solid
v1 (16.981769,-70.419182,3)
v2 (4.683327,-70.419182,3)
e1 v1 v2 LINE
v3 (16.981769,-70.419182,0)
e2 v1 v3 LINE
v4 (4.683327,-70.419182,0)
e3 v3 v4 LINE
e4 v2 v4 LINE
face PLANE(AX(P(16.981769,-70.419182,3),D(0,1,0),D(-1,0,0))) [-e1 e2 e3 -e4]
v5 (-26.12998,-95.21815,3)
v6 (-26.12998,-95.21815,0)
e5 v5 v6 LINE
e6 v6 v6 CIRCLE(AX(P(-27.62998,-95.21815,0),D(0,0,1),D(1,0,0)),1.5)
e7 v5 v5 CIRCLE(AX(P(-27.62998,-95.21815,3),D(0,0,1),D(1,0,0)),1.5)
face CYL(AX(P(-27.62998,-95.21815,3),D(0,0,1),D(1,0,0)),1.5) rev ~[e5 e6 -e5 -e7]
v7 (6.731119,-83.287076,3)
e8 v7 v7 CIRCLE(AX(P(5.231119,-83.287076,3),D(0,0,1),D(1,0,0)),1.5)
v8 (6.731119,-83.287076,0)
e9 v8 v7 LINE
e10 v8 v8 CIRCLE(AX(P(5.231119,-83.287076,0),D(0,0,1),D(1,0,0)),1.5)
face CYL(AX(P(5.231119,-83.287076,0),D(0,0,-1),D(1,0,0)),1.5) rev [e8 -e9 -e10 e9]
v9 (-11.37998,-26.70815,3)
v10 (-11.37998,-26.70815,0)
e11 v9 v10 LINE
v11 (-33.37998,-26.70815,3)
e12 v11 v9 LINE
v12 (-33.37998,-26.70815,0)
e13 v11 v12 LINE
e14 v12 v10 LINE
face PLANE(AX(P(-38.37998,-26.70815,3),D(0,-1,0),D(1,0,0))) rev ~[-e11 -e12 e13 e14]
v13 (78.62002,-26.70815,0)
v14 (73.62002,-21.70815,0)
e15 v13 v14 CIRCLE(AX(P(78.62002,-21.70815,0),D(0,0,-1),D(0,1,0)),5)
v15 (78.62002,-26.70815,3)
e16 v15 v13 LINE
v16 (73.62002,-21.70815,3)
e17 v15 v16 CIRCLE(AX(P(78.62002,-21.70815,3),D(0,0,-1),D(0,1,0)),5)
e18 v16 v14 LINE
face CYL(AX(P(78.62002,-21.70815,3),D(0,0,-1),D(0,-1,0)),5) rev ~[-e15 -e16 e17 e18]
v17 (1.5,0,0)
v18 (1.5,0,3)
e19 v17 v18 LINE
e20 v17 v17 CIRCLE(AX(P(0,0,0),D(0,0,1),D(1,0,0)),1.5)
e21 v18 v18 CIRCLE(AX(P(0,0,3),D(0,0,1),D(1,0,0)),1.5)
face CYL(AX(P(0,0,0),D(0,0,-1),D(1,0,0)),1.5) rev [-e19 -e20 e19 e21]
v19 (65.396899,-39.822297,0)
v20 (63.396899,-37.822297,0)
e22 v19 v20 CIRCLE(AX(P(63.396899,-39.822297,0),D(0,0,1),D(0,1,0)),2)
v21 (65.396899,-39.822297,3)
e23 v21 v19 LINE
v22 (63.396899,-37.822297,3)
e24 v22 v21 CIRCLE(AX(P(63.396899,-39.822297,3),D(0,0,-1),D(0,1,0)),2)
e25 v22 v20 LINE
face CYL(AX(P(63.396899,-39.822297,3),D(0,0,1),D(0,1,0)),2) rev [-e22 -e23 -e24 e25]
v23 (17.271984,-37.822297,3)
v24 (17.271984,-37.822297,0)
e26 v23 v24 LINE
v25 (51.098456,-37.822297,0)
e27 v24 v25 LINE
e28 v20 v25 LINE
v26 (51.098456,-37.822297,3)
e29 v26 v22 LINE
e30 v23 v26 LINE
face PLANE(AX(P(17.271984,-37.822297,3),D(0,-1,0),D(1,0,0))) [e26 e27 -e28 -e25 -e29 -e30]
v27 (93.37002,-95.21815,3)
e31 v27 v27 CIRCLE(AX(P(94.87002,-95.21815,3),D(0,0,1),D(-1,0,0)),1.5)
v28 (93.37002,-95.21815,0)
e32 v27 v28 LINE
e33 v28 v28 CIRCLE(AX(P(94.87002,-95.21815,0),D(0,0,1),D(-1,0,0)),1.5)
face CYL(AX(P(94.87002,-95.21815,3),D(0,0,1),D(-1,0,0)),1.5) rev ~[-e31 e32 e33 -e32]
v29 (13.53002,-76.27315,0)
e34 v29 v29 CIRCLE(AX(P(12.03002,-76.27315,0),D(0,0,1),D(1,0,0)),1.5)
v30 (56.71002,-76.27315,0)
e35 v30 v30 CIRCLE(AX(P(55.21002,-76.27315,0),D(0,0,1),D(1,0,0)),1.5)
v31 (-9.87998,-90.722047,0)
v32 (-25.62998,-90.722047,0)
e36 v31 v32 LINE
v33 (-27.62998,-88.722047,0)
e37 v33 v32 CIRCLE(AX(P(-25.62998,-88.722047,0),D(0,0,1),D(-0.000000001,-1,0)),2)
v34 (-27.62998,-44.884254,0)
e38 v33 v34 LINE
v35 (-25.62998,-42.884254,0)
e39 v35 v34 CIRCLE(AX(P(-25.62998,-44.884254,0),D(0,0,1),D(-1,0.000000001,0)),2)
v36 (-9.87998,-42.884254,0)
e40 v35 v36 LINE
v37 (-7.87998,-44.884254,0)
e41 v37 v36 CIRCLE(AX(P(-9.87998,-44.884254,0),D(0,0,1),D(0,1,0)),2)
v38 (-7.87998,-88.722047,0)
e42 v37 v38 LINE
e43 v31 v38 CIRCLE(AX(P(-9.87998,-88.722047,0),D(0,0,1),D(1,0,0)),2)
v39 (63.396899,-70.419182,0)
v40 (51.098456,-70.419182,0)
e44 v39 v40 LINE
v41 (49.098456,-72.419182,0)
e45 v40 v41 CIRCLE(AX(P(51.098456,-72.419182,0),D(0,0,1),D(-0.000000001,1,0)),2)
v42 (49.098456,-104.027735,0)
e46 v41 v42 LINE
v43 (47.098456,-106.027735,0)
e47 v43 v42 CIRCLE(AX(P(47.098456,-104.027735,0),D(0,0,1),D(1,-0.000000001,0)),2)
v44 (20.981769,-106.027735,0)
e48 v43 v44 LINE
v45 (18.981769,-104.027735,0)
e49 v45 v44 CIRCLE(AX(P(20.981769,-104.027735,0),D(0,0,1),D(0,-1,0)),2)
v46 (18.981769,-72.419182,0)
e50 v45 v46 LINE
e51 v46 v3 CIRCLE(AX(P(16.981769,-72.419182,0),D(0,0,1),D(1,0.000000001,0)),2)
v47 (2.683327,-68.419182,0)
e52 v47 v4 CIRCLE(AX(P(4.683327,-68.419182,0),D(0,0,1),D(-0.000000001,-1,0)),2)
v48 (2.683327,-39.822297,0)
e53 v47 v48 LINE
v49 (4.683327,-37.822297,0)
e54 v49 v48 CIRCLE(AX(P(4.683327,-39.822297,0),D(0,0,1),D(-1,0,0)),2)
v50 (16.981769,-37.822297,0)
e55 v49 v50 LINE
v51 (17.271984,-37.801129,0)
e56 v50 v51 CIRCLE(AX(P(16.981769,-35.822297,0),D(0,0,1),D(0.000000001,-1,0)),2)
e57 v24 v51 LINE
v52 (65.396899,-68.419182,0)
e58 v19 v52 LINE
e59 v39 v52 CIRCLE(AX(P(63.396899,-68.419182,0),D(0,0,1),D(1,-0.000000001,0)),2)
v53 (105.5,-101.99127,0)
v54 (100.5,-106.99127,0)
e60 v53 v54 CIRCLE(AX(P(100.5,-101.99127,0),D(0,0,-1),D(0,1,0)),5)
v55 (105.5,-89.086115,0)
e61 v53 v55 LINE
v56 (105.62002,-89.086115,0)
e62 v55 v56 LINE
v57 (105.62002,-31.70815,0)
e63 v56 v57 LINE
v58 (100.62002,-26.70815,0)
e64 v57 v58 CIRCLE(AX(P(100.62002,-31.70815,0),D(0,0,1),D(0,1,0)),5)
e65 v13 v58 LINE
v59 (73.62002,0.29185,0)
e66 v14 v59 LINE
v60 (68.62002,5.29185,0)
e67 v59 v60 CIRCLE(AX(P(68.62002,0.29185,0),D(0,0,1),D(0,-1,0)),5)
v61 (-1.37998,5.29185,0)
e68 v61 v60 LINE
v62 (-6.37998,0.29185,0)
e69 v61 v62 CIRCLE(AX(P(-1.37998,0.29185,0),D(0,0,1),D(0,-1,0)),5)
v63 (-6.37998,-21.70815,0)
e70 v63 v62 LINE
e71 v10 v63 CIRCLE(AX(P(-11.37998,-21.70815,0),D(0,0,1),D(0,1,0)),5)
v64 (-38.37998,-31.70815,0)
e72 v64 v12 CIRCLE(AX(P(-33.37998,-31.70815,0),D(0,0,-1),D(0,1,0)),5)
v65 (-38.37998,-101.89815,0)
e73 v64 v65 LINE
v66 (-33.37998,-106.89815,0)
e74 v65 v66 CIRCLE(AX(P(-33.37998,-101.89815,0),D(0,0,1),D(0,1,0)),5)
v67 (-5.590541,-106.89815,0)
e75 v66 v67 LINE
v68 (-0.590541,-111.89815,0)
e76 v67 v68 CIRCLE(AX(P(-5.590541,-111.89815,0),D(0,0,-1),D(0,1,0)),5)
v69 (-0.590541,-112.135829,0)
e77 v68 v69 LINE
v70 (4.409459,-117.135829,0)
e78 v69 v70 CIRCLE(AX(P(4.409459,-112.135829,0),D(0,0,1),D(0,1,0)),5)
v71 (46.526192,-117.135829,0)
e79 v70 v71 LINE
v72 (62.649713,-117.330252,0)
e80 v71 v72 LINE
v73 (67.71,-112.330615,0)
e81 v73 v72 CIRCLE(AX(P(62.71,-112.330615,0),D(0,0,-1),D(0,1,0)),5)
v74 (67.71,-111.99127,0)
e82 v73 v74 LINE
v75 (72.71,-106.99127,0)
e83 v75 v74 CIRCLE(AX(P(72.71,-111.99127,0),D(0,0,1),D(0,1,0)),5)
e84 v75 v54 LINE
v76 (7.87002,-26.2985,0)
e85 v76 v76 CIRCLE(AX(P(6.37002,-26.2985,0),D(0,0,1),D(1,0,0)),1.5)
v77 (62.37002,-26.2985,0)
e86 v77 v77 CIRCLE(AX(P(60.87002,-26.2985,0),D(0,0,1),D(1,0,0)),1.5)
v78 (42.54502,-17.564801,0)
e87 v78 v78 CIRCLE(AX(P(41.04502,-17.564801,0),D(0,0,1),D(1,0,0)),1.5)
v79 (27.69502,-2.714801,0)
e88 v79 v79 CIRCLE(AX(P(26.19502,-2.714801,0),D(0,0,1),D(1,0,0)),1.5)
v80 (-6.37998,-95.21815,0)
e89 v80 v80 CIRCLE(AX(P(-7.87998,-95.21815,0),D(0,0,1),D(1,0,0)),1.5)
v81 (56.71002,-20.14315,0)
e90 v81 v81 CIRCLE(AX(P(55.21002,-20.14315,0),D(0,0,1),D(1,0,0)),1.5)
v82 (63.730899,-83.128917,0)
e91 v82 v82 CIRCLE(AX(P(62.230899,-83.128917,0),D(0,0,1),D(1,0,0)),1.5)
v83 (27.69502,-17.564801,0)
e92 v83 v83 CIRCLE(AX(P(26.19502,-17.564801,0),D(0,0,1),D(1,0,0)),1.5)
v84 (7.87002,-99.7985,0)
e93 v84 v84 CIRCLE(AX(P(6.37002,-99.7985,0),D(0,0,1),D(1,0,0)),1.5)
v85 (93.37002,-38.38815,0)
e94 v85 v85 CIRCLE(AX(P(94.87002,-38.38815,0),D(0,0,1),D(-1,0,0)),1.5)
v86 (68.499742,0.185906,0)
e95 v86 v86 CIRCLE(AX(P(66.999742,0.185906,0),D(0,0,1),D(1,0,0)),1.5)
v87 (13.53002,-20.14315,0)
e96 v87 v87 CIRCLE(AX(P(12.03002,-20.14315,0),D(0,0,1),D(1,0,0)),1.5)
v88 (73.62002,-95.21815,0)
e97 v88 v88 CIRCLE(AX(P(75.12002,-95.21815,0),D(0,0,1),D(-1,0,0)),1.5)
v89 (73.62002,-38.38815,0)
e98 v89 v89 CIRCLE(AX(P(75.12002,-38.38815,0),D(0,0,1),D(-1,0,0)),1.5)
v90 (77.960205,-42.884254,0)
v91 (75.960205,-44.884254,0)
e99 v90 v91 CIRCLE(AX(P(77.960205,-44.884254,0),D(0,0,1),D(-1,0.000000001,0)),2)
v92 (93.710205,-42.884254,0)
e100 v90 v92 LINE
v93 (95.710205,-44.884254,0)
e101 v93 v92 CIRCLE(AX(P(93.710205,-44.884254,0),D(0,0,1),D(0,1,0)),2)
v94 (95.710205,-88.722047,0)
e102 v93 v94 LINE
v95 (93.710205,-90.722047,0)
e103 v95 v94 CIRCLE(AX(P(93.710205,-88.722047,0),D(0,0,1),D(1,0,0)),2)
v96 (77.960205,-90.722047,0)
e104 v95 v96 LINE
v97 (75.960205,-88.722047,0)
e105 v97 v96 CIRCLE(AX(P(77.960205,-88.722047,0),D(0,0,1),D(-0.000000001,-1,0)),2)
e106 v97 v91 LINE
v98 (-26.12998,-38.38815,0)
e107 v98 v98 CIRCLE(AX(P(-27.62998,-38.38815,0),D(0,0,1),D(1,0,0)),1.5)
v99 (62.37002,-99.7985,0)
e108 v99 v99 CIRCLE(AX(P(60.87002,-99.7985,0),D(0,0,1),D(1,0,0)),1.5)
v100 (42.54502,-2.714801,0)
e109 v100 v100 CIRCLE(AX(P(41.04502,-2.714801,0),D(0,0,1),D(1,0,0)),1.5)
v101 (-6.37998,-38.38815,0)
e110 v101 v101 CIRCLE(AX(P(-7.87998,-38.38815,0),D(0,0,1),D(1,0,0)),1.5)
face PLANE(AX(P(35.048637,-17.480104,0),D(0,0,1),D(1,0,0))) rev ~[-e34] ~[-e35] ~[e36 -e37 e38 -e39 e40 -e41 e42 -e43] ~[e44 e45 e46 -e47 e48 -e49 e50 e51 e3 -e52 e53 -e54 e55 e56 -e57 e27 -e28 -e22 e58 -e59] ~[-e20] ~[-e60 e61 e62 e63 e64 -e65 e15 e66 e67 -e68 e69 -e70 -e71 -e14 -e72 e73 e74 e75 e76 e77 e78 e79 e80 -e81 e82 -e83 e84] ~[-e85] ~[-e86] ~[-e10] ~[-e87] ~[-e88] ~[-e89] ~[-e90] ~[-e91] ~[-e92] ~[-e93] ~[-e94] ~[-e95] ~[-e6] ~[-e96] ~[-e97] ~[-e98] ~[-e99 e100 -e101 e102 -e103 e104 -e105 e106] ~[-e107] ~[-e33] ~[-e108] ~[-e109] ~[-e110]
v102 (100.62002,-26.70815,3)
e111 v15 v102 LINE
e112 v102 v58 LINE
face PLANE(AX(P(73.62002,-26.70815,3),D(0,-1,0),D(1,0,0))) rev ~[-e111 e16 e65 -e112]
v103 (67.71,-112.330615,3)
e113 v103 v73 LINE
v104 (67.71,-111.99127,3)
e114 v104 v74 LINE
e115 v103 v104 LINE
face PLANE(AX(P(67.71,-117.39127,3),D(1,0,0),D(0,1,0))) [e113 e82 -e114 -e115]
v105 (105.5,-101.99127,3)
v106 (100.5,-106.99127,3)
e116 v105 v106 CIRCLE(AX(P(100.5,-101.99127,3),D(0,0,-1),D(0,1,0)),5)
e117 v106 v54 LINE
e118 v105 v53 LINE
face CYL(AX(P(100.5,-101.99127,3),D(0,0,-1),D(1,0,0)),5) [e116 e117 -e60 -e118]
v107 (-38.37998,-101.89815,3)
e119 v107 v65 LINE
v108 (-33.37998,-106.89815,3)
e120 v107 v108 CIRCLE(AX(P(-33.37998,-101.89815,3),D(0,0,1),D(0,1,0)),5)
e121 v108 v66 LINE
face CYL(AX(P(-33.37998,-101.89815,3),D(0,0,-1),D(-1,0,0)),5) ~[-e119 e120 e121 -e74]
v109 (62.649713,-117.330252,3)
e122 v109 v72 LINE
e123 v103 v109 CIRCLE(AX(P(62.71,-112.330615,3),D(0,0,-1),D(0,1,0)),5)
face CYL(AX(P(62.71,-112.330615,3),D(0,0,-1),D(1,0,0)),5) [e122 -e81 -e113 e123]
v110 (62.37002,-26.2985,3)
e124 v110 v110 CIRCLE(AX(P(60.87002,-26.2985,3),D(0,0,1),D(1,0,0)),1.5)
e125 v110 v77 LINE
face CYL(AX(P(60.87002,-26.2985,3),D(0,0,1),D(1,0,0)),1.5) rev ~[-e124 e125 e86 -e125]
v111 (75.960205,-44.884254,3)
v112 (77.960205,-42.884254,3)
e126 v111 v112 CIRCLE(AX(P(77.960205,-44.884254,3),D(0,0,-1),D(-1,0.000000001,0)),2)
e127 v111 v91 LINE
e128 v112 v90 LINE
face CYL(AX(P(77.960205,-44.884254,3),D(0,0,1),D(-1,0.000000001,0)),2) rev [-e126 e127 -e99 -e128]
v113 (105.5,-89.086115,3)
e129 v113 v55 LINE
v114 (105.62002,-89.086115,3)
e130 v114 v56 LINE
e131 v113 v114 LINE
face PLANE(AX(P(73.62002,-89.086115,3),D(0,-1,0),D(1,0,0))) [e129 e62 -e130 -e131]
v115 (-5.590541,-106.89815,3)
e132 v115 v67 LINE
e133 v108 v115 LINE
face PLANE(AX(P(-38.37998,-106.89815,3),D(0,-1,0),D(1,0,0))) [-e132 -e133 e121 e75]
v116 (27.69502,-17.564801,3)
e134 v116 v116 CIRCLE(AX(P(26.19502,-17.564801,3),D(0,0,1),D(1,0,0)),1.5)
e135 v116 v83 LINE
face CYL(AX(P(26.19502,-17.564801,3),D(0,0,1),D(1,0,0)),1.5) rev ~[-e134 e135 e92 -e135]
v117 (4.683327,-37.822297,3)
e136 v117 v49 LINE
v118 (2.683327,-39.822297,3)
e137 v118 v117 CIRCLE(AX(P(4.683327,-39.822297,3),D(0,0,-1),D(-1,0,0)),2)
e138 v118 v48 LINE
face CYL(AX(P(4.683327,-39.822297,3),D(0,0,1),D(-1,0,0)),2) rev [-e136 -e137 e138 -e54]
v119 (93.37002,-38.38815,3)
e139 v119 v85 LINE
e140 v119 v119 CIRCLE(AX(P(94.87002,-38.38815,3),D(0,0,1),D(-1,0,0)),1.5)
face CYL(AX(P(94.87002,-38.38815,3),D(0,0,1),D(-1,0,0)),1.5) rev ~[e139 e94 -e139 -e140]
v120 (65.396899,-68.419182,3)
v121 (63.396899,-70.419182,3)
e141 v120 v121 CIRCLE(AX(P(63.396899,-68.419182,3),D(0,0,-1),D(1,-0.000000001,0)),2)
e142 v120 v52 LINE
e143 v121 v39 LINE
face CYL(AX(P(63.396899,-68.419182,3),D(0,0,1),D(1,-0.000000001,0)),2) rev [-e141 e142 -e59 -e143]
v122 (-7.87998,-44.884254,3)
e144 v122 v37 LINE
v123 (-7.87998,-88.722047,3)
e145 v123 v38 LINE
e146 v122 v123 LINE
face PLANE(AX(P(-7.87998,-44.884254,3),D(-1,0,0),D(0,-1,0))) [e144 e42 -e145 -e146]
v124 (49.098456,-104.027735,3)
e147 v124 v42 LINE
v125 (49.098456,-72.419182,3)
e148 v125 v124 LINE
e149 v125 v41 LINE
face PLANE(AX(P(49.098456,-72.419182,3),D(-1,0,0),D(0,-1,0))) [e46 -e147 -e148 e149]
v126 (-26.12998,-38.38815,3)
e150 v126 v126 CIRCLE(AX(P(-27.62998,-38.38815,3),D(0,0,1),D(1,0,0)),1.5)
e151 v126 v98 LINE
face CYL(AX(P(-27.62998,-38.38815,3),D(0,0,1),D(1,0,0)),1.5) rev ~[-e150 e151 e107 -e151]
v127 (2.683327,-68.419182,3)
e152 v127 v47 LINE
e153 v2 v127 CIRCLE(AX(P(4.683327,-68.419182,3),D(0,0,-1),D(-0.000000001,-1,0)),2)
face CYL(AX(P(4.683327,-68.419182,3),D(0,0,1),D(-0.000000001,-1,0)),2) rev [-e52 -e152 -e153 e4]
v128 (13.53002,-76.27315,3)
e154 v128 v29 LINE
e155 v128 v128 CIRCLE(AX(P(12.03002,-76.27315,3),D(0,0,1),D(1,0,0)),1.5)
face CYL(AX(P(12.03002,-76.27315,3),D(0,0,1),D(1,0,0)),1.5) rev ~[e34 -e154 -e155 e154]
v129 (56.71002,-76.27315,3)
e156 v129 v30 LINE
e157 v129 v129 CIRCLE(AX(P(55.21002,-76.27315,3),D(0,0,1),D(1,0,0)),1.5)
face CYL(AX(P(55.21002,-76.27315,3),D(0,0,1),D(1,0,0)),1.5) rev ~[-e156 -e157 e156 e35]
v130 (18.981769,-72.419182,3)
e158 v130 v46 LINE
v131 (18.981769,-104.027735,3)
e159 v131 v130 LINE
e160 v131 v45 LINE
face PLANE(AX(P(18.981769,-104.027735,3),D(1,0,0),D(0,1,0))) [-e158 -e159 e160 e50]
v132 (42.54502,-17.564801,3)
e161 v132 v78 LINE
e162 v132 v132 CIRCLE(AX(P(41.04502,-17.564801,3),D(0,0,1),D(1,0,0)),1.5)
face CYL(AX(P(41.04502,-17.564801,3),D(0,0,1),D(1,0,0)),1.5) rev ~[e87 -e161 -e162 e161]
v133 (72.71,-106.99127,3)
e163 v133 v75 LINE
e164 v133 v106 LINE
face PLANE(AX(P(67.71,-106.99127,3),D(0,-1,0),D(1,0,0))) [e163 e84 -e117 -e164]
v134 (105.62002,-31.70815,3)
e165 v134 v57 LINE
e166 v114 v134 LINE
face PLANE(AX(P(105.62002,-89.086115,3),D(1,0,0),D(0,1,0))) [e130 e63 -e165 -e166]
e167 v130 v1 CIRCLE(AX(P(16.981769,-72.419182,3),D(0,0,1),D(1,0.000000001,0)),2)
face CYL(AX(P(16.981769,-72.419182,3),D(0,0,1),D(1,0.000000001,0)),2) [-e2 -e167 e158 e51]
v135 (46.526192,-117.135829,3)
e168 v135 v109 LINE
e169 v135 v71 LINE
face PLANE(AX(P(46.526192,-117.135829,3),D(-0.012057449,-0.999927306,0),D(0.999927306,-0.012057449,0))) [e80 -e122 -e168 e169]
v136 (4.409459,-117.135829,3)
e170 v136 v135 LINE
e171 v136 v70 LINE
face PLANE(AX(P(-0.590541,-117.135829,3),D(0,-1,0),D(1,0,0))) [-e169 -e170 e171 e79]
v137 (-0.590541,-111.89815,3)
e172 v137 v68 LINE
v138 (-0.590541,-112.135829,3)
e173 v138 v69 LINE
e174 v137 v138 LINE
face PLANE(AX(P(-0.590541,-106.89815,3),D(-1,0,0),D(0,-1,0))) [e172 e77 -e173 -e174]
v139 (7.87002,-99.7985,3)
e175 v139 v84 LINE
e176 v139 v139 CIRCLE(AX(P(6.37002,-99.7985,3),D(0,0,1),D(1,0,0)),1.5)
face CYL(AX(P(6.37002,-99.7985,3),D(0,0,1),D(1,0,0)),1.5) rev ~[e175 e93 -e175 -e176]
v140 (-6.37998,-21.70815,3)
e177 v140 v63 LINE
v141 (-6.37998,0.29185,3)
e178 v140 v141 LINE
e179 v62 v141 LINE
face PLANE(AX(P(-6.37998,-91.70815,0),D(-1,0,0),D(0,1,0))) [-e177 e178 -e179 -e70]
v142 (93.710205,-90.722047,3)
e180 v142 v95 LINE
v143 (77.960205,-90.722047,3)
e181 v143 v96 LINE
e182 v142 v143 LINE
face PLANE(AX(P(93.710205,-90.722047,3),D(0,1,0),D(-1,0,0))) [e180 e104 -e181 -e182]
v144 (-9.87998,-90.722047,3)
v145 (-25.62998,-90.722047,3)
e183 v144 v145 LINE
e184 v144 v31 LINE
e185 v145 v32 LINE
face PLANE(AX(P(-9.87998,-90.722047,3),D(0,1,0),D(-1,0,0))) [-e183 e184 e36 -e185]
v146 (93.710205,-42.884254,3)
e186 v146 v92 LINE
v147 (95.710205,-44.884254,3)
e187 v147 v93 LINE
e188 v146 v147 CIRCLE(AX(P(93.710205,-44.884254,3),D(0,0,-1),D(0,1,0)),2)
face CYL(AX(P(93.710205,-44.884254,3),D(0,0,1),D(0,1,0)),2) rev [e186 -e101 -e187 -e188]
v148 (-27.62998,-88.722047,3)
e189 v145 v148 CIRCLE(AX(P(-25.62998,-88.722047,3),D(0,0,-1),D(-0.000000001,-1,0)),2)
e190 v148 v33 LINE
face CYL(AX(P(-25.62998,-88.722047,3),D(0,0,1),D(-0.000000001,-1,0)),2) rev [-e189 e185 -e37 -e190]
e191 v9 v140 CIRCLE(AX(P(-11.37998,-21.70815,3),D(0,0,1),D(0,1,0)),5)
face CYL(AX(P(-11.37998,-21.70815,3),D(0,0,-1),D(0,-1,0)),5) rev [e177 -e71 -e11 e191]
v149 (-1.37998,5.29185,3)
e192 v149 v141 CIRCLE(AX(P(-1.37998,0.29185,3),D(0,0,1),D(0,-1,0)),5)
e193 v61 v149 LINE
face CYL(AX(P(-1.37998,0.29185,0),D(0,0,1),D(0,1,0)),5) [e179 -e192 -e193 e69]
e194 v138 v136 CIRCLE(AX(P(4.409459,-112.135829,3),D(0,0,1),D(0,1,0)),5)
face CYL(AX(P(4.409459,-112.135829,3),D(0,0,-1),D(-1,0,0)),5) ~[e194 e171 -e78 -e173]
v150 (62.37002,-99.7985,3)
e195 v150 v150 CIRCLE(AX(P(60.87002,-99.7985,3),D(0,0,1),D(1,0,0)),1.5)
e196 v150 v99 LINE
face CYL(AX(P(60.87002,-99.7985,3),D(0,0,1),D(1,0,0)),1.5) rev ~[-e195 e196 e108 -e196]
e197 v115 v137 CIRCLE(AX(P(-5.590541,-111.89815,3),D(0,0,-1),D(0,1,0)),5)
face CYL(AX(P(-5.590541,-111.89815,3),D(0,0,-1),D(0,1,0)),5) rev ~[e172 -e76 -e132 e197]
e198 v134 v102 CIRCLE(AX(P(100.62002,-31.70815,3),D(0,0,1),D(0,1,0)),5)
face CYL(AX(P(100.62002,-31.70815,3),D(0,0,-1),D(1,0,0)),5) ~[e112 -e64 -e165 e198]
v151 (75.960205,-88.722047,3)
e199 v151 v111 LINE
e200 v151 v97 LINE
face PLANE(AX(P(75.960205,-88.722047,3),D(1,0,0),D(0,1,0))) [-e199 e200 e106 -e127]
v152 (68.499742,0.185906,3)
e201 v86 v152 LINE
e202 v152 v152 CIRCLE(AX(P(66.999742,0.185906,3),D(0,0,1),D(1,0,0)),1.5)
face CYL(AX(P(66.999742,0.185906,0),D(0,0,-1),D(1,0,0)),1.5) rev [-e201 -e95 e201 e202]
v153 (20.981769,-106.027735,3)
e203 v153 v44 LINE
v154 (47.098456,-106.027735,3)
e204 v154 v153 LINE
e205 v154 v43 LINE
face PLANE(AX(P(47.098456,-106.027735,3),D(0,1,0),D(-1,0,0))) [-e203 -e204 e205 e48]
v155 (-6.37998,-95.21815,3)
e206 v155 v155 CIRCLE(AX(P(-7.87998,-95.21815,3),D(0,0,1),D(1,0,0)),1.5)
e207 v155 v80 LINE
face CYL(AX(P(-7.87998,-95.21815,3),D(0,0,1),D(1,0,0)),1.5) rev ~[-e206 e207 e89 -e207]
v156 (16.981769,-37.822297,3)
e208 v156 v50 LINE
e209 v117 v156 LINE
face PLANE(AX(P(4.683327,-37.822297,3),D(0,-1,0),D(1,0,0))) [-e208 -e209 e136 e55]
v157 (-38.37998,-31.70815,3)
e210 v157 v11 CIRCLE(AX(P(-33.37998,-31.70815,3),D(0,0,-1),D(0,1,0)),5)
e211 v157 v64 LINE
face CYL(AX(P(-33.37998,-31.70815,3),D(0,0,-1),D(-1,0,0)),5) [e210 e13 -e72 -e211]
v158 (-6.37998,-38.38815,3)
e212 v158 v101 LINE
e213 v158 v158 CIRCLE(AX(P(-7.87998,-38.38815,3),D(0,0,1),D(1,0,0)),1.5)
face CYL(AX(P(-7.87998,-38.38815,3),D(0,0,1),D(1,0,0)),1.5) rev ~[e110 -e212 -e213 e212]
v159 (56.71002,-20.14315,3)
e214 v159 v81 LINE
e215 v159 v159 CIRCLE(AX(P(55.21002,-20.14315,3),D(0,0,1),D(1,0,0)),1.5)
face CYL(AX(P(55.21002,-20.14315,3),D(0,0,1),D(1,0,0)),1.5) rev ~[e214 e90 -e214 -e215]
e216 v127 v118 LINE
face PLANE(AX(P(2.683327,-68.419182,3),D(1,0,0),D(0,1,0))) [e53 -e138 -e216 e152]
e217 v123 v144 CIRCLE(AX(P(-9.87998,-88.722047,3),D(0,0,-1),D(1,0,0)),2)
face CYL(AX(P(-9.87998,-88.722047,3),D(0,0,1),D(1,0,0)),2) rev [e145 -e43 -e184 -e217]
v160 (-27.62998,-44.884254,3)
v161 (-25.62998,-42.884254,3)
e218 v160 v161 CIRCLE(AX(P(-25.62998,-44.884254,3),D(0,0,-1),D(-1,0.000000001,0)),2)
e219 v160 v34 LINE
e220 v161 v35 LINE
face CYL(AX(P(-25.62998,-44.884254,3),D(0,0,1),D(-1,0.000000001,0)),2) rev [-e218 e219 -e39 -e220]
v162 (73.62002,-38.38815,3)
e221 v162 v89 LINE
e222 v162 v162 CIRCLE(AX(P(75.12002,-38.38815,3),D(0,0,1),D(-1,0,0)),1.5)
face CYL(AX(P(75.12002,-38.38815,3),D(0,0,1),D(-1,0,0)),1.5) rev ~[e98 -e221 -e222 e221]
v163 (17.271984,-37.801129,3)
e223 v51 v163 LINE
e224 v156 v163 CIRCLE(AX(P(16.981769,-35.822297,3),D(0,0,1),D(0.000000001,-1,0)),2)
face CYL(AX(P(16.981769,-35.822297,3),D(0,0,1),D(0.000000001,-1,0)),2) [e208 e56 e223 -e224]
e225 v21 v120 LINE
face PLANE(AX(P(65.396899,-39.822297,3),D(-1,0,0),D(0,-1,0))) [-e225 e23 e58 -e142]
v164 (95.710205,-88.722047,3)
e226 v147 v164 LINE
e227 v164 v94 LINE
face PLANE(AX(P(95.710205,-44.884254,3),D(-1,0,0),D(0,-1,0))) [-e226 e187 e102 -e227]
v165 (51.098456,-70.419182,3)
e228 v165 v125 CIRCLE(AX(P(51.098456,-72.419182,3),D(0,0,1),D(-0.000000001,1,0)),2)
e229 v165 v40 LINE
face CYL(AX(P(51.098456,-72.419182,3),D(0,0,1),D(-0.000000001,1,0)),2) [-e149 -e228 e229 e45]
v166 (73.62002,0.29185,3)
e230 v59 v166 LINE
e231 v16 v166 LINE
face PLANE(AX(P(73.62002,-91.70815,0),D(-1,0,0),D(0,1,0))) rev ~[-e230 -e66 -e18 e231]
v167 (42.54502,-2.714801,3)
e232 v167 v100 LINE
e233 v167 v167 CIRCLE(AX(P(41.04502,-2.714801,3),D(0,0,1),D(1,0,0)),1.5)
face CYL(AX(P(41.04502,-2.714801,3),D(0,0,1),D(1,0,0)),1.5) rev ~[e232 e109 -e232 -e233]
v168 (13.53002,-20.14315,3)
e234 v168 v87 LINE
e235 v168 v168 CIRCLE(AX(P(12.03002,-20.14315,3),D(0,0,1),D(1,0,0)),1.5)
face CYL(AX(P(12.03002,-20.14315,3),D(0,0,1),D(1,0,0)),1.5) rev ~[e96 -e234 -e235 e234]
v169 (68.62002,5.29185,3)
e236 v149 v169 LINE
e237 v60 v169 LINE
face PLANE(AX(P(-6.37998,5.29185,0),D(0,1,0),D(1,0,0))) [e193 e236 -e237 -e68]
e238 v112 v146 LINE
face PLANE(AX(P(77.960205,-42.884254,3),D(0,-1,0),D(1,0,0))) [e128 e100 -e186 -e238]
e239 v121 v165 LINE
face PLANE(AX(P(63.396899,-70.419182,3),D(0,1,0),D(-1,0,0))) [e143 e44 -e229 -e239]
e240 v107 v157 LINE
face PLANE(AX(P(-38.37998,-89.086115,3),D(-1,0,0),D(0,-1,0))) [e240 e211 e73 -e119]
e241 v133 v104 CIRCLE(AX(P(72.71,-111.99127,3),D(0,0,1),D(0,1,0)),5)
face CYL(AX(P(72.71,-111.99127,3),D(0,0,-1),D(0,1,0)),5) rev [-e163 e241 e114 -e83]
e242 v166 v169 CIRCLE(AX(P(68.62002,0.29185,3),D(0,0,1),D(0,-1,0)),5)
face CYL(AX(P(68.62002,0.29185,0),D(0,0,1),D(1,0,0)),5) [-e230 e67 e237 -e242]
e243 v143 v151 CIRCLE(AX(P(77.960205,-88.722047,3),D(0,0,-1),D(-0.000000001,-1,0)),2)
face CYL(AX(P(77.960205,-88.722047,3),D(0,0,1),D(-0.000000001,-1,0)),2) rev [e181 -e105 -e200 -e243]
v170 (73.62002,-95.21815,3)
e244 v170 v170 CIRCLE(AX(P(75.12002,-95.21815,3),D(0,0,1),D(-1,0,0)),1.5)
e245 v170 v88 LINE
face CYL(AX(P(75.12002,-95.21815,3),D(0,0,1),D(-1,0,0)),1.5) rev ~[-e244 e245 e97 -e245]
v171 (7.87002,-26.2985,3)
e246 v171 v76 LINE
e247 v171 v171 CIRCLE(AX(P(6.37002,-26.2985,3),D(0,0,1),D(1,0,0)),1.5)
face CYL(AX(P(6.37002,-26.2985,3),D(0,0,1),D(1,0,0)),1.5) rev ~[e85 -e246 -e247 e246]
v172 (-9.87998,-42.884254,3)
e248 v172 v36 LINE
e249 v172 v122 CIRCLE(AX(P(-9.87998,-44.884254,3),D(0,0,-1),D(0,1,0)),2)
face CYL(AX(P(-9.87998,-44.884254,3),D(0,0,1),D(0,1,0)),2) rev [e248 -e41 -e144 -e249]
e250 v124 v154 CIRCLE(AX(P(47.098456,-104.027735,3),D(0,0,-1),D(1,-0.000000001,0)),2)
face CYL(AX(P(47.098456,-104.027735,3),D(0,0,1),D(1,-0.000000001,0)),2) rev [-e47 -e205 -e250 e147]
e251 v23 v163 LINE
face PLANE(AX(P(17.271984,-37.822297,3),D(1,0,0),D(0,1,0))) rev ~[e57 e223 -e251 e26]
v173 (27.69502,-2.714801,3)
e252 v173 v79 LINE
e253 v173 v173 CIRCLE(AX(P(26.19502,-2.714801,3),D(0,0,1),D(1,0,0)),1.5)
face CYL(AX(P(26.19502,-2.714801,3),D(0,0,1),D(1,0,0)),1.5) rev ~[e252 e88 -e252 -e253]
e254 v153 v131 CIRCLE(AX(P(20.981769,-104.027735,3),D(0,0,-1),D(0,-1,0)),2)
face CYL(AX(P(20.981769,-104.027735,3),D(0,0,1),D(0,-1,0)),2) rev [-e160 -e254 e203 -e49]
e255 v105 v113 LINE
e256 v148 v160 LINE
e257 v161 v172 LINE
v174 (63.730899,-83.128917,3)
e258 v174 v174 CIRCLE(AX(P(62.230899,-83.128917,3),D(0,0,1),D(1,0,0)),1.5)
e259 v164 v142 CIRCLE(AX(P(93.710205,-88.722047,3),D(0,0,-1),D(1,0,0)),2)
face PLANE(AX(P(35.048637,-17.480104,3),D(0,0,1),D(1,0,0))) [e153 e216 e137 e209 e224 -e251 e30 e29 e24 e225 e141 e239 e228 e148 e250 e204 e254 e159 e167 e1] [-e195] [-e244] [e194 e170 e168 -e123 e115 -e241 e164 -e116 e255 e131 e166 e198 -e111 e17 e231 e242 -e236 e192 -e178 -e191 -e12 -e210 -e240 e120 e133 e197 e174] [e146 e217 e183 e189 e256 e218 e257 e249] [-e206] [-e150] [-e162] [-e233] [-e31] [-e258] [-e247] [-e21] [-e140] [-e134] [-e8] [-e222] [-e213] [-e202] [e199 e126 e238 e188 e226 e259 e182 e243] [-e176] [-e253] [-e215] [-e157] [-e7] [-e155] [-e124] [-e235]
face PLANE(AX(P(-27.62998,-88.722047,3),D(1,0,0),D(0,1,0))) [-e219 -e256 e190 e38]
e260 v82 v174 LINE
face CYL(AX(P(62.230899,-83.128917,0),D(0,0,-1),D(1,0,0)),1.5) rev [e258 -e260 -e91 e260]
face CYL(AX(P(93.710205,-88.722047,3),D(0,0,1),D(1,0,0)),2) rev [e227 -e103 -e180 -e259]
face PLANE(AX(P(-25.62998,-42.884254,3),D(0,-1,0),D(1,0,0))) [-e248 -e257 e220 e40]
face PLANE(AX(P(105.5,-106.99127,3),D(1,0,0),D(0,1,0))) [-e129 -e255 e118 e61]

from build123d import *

# Parameters (mm, degrees)
SKETCH_1_W          = 80
SKETCH_1_H          = 97
SKETCH_1_R          = 1.5
EXTRUDE_1_DEPTH     = 3
SKETCH_3_W          = 32
SKETCH_3_H          = 62.377964324
EXTRUDE_2_DEPTH     = 3
EXTRUDE_3_DEPTH     = 3
SKETCH_5_R          = 1.5
CUT_EXTRUDE_2_DEPTH = 3
SKETCH_6_R          = 1.5
CUT_EXTRUDE_4_DEPTH = 3
FILLET_1_R          = 5
FILLET_2_R          = 5
CUT_EXTRUDE_5_DEPTH = 10
SKETCH_9_W          = 35.553305852
SKETCH_9_H          = 40.684386559
EXTRUDE_4_DEPTH     = 3
CUT_EXTRUDE_6_REACH = 159.896
SKETCH_10_R         = 1.5
CUT_EXTRUDE_7_REACH = 159.896
SKETCH_11_R         = 1.5


with BuildPart() as part:
    # 草图1 → 凸台-拉伸1 (new body)
    with BuildSketch(Plane.XY):
        with Locations((33.620020091, -43.208150262)):
            Rectangle(SKETCH_1_W, SKETCH_1_H)
        Circle(SKETCH_1_R, mode=Mode.SUBTRACT)
        with Locations((66.99974208, 0.185906473)):
            Circle(SKETCH_1_R, mode=Mode.SUBTRACT)
        with Locations((5.231118743, -83.287075899)):
            Circle(SKETCH_1_R, mode=Mode.SUBTRACT)
        with Locations((62.230899318, -83.128916661)):
            Circle(SKETCH_1_R, mode=Mode.SUBTRACT)
    extrude(amount=EXTRUDE_1_DEPTH)

    # 草图3 → 凸台-拉伸2 (add)
    with BuildSketch(Plane.XY.offset(3)):
        with Locations((-22.379979909, -57.897132424)):
            Rectangle(SKETCH_3_W, SKETCH_3_H)
        with Locations((89.620020091, -57.897132424)):
            Rectangle(SKETCH_3_W, SKETCH_3_H)
    extrude(amount=-EXTRUDE_2_DEPTH)

    # 草图4 → 凸台-拉伸3 (add)
    with BuildSketch(Plane.XY.offset(3)):
        Polygon((-38.379979909, -89.086114586), (-38.379979909, -106.898150262), (-4.25, -106.898150262), (-0.590540516, -106.898150262), (-0.590540516, -117.135828938), (20.473808019, -117.135828938), (46.526191981, -117.135828938), (67.71, -117.391270189), (67.71, -106.991270189), (71.25, -106.991270189), (105.5, -106.991270189), (105.5, -89.086114586), (72.50067844, -84.475650121), (55.009126254, -90.348726038), (11.990873746, -90.348726038), (-5.50067844, -84.475650121), align=None)
    extrude(amount=-EXTRUDE_3_DEPTH)

    # 草图5 → 切除-拉伸2 (cut)
    with BuildSketch(Plane.XY.offset(3)):
        with Locations((-27.629979909, -38.388150262)):
            Circle(SKETCH_5_R)
        with Locations((-7.879979909, -38.388150262)):
            Circle(SKETCH_5_R)
        with Locations((-27.629979909, -95.218150262)):
            Circle(SKETCH_5_R)
        with Locations((-7.879979909, -95.218150262)):
            Circle(SKETCH_5_R)
        with Locations(Location((75.120020091, -95.218150262, 0), (0, 0, 180))):
            Circle(SKETCH_5_R)
        with Locations(Location((94.870020091, -95.218150262, 0), (0, 0, 180))):
            Circle(SKETCH_5_R)
        with Locations(Location((75.120020091, -38.388150262, 0), (0, 0, 180))):
            Circle(SKETCH_5_R)
        with Locations(Location((94.870020091, -38.388150262, 0), (0, 0, 180))):
            Circle(SKETCH_5_R)
    extrude(amount=-CUT_EXTRUDE_2_DEPTH, mode=Mode.SUBTRACT)

    # 草图6 → 切除-拉伸4 (cut)
    with BuildSketch(Plane.XY.offset(3)):
        with Locations((12.030020091, -20.143150262)):
            Circle(SKETCH_6_R)
        with Locations((55.210020091, -20.143150262)):
            Circle(SKETCH_6_R)
        with Locations((12.030020091, -76.273150262)):
            Circle(SKETCH_6_R)
        with Locations((55.210020091, -76.273150262)):
            Circle(SKETCH_6_R)
    extrude(amount=-CUT_EXTRUDE_4_DEPTH, mode=Mode.SUBTRACT)

    # 圆角1
    fillet_1_edges = [part.edges().sort_by_distance(p)[0] for p in [
        (-6.379979909, 5.291849738, 1.5),
        (73.620020091, 5.291849738, 1.5),
        (-6.379979909, -26.708150262, 1.5),
        (-38.379979909, -26.708150262, 1.5),
        (105.620020091, -26.708150262, 1.5),
        (73.620020091, -26.708150262, 1.5),
        (105.5, -106.991270189, 1.5),
        (67.71, -106.991270189, 1.5),
        (-0.590540516, -117.135828938, 1.5),
        (-0.590540516, -106.898150262, 1.5),
        (-38.379979909, -106.898150262, 1.5),
    ]]
    fillet(fillet_1_edges, radius=FILLET_1_R)

    # 圆角2
    fillet_2_edges = [part.edges().sort_by_distance(p)[0] for p in [
        (67.71, -117.391270189, 1.5),
    ]]
    fillet(fillet_2_edges, radius=FILLET_2_R)

    # 草图8 → 切除-拉伸5 (cut)
    with BuildSketch(Plane.XY.offset(3)):
        with BuildLine():
            Line((-25.629979909, -42.884254011), (-9.879979909, -42.884254011))
            ThreePointArc((-9.879979909, -42.884254011), (-8.465766346, -43.470040449), (-7.879979909, -44.884254011))
            Line((-7.879979909, -44.884254011), (-7.879979909, -88.722046513))
            ThreePointArc((-7.879979909, -88.722046513), (-8.465766346, -90.136260075), (-9.879979909, -90.722046513))
            Line((-9.879979909, -90.722046513), (-25.629979909, -90.722046513))
            ThreePointArc((-25.629979909, -90.722046513), (-27.044193471, -90.136260075), (-27.629979909, -88.722046513))
            Line((-27.629979909, -88.722046513), (-27.629979909, -44.884254011))
            ThreePointArc((-27.629979909, -44.884254011), (-27.044193471, -43.470040449), (-25.629979909, -42.884254011))
        make_face()
        with BuildLine():
            Line((20.981769159, -2.213743129), (47.098456354, -2.213743129))
            ThreePointArc((47.098456354, -2.213743129), (48.512669916, -2.799529566), (49.098456354, -4.213743129))
            Line((49.098456354, -4.213743129), (49.098456354, -35.822296813))
            ThreePointArc((49.098456354, -35.822296813), (49.684242792, -37.236510375), (51.098456354, -37.822296813))
            Line((51.098456354, -37.822296813), (63.396898836, -37.822296813))
            ThreePointArc((63.396898836, -37.822296813), (64.811112398, -38.40808325), (65.396898836, -39.822296813))
            Line((65.396898836, -39.822296813), (65.396898836, -68.419181777))
            ThreePointArc((65.396898836, -68.419181777), (64.811112398, -69.833395339), (63.396898836, -70.419181777))
            Line((63.396898836, -70.419181777), (51.098456354, -70.419181777))
            ThreePointArc((51.098456354, -70.419181777), (49.684242792, -71.004968215), (49.098456354, -72.419181777))
            Line((49.098456354, -72.419181777), (49.098456354, -104.027735461))
            ThreePointArc((49.098456354, -104.027735461), (48.512669916, -105.441949023), (47.098456354, -106.027735461))
            Line((47.098456354, -106.027735461), (20.981769159, -106.027735461))
            ThreePointArc((20.981769159, -106.027735461), (19.567555596, -105.441949023), (18.981769159, -104.027735461))
            Line((18.981769159, -104.027735461), (18.981769159, -72.419181777))
            ThreePointArc((18.981769159, -72.419181777), (18.395982721, -71.004968215), (16.981769159, -70.419181777))
            Line((16.981769159, -70.419181777), (4.683326676, -70.419181777))
            ThreePointArc((4.683326676, -70.419181777), (3.269113114, -69.833395339), (2.683326676, -68.419181777))
            Line((2.683326676, -68.419181777), (2.683326676, -39.822296813))
            ThreePointArc((2.683326676, -39.822296813), (3.269113114, -38.40808325), (4.683326676, -37.822296813))
            Line((4.683326676, -37.822296813), (16.981769159, -37.822296813))
            ThreePointArc((16.981769159, -37.822296813), (18.395982721, -37.236510375), (18.981769159, -35.822296813))
            Line((18.981769159, -35.822296813), (18.981769159, -4.213743129))
            ThreePointArc((18.981769159, -4.213743129), (19.567555596, -2.799529566), (20.981769159, -2.213743129))
        make_face()
        with BuildLine():
            Line((93.710205421, -90.722046513), (77.960205421, -90.722046513))
            ThreePointArc((77.960205421, -90.722046513), (76.545991859, -90.136260075), (75.960205421, -88.722046513))
            Line((75.960205421, -88.722046513), (75.960205421, -44.884254011))
            ThreePointArc((75.960205421, -44.884254011), (76.545991859, -43.470040449), (77.960205421, -42.884254011))
            Line((77.960205421, -42.884254011), (93.710205421, -42.884254011))
            ThreePointArc((93.710205421, -42.884254011), (95.124418984, -43.470040449), (95.710205421, -44.884254011))
            Line((95.710205421, -44.884254011), (95.710205421, -88.722046513))
            ThreePointArc((95.710205421, -88.722046513), (95.124418984, -90.136260075), (93.710205421, -90.722046513))
        make_face()
    extrude(amount=-CUT_EXTRUDE_5_DEPTH, mode=Mode.SUBTRACT)

    # 草图9 → 凸台-拉伸4 (add)
    with BuildSketch(Plane.XY.offset(3)):
        with Locations((35.048637375, -17.480103533)):
            Rectangle(SKETCH_9_W, SKETCH_9_H)
    extrude(amount=-EXTRUDE_4_DEPTH)

    # 草图10 → 切除-拉伸6 (cut, up to next)
    with BuildSketch(Plane.XY.offset(3), mode=Mode.PRIVATE) as cut_extrude_6_sk1:
        with Locations((6.370020091, -26.298500215)):
            Circle(SKETCH_10_R)
    cut_extrude_6_tool1 = extrude(cut_extrude_6_sk1.sketch, amount=-CUT_EXTRUDE_6_REACH, mode=Mode.PRIVATE) & part.part
    # 草图10 → 切除-拉伸6 (cut, up to next)
    with BuildSketch(Plane.XY.offset(3), mode=Mode.PRIVATE) as cut_extrude_6_sk2:
        with Locations((60.870020091, -26.298500215)):
            Circle(SKETCH_10_R)
    cut_extrude_6_tool2 = extrude(cut_extrude_6_sk2.sketch, amount=-CUT_EXTRUDE_6_REACH, mode=Mode.PRIVATE) & part.part
    # 草图10 → 切除-拉伸6 (cut, up to next)
    with BuildSketch(Plane.XY.offset(3), mode=Mode.PRIVATE) as cut_extrude_6_sk3:
        with Locations((6.370020091, -99.798500215)):
            Circle(SKETCH_10_R)
    cut_extrude_6_tool3 = extrude(cut_extrude_6_sk3.sketch, amount=-CUT_EXTRUDE_6_REACH, mode=Mode.PRIVATE) & part.part
    # 草图10 → 切除-拉伸6 (cut, up to next)
    with BuildSketch(Plane.XY.offset(3), mode=Mode.PRIVATE) as cut_extrude_6_sk4:
        with Locations((60.870020091, -99.798500215)):
            Circle(SKETCH_10_R)
    cut_extrude_6_tool4 = extrude(cut_extrude_6_sk4.sketch, amount=-CUT_EXTRUDE_6_REACH, mode=Mode.PRIVATE) & part.part
    add(cut_extrude_6_tool1.solids().sort_by_distance((6.37002, -26.2985, 3))[0], mode=Mode.SUBTRACT)
    add(cut_extrude_6_tool2.solids().sort_by_distance((60.87002, -26.2985, 3))[0], mode=Mode.SUBTRACT)
    add(cut_extrude_6_tool3.solids().sort_by_distance((6.37002, -99.7985, 3))[0], mode=Mode.SUBTRACT)
    add(cut_extrude_6_tool4.solids().sort_by_distance((60.87002, -99.7985, 3))[0], mode=Mode.SUBTRACT)

    # 草图11 → 切除-拉伸7 (cut, up to next)
    with BuildSketch(Plane.XY.offset(3), mode=Mode.PRIVATE) as cut_extrude_7_sk1:
        with Locations((26.195020091, -2.714801131)):
            Circle(SKETCH_11_R)
    cut_extrude_7_tool1 = extrude(cut_extrude_7_sk1.sketch, amount=-CUT_EXTRUDE_7_REACH, mode=Mode.PRIVATE) & part.part
    # 草图11 → 切除-拉伸7 (cut, up to next)
    with BuildSketch(Plane.XY.offset(3), mode=Mode.PRIVATE) as cut_extrude_7_sk2:
        with Locations((41.045020091, -2.714801131)):
            Circle(SKETCH_11_R)
    cut_extrude_7_tool2 = extrude(cut_extrude_7_sk2.sketch, amount=-CUT_EXTRUDE_7_REACH, mode=Mode.PRIVATE) & part.part
    # 草图11 → 切除-拉伸7 (cut, up to next)
    with BuildSketch(Plane.XY.offset(3), mode=Mode.PRIVATE) as cut_extrude_7_sk3:
        with Locations((26.195020091, -17.564801131)):
            Circle(SKETCH_11_R)
    cut_extrude_7_tool3 = extrude(cut_extrude_7_sk3.sketch, amount=-CUT_EXTRUDE_7_REACH, mode=Mode.PRIVATE) & part.part
    # 草图11 → 切除-拉伸7 (cut, up to next)
    with BuildSketch(Plane.XY.offset(3), mode=Mode.PRIVATE) as cut_extrude_7_sk4:
        with Locations((41.045020091, -17.564801131)):
            Circle(SKETCH_11_R)
    cut_extrude_7_tool4 = extrude(cut_extrude_7_sk4.sketch, amount=-CUT_EXTRUDE_7_REACH, mode=Mode.PRIVATE) & part.part
    add(cut_extrude_7_tool1.solids().sort_by_distance((26.19502, -2.714801, 3))[0], mode=Mode.SUBTRACT)
    add(cut_extrude_7_tool2.solids().sort_by_distance((41.04502, -2.714801, 3))[0], mode=Mode.SUBTRACT)
    add(cut_extrude_7_tool3.solids().sort_by_distance((26.19502, -17.564801, 3))[0], mode=Mode.SUBTRACT)
    add(cut_extrude_7_tool4.solids().sort_by_distance((41.04502, -17.564801, 3))[0], mode=Mode.SUBTRACT)


solid = part.part
